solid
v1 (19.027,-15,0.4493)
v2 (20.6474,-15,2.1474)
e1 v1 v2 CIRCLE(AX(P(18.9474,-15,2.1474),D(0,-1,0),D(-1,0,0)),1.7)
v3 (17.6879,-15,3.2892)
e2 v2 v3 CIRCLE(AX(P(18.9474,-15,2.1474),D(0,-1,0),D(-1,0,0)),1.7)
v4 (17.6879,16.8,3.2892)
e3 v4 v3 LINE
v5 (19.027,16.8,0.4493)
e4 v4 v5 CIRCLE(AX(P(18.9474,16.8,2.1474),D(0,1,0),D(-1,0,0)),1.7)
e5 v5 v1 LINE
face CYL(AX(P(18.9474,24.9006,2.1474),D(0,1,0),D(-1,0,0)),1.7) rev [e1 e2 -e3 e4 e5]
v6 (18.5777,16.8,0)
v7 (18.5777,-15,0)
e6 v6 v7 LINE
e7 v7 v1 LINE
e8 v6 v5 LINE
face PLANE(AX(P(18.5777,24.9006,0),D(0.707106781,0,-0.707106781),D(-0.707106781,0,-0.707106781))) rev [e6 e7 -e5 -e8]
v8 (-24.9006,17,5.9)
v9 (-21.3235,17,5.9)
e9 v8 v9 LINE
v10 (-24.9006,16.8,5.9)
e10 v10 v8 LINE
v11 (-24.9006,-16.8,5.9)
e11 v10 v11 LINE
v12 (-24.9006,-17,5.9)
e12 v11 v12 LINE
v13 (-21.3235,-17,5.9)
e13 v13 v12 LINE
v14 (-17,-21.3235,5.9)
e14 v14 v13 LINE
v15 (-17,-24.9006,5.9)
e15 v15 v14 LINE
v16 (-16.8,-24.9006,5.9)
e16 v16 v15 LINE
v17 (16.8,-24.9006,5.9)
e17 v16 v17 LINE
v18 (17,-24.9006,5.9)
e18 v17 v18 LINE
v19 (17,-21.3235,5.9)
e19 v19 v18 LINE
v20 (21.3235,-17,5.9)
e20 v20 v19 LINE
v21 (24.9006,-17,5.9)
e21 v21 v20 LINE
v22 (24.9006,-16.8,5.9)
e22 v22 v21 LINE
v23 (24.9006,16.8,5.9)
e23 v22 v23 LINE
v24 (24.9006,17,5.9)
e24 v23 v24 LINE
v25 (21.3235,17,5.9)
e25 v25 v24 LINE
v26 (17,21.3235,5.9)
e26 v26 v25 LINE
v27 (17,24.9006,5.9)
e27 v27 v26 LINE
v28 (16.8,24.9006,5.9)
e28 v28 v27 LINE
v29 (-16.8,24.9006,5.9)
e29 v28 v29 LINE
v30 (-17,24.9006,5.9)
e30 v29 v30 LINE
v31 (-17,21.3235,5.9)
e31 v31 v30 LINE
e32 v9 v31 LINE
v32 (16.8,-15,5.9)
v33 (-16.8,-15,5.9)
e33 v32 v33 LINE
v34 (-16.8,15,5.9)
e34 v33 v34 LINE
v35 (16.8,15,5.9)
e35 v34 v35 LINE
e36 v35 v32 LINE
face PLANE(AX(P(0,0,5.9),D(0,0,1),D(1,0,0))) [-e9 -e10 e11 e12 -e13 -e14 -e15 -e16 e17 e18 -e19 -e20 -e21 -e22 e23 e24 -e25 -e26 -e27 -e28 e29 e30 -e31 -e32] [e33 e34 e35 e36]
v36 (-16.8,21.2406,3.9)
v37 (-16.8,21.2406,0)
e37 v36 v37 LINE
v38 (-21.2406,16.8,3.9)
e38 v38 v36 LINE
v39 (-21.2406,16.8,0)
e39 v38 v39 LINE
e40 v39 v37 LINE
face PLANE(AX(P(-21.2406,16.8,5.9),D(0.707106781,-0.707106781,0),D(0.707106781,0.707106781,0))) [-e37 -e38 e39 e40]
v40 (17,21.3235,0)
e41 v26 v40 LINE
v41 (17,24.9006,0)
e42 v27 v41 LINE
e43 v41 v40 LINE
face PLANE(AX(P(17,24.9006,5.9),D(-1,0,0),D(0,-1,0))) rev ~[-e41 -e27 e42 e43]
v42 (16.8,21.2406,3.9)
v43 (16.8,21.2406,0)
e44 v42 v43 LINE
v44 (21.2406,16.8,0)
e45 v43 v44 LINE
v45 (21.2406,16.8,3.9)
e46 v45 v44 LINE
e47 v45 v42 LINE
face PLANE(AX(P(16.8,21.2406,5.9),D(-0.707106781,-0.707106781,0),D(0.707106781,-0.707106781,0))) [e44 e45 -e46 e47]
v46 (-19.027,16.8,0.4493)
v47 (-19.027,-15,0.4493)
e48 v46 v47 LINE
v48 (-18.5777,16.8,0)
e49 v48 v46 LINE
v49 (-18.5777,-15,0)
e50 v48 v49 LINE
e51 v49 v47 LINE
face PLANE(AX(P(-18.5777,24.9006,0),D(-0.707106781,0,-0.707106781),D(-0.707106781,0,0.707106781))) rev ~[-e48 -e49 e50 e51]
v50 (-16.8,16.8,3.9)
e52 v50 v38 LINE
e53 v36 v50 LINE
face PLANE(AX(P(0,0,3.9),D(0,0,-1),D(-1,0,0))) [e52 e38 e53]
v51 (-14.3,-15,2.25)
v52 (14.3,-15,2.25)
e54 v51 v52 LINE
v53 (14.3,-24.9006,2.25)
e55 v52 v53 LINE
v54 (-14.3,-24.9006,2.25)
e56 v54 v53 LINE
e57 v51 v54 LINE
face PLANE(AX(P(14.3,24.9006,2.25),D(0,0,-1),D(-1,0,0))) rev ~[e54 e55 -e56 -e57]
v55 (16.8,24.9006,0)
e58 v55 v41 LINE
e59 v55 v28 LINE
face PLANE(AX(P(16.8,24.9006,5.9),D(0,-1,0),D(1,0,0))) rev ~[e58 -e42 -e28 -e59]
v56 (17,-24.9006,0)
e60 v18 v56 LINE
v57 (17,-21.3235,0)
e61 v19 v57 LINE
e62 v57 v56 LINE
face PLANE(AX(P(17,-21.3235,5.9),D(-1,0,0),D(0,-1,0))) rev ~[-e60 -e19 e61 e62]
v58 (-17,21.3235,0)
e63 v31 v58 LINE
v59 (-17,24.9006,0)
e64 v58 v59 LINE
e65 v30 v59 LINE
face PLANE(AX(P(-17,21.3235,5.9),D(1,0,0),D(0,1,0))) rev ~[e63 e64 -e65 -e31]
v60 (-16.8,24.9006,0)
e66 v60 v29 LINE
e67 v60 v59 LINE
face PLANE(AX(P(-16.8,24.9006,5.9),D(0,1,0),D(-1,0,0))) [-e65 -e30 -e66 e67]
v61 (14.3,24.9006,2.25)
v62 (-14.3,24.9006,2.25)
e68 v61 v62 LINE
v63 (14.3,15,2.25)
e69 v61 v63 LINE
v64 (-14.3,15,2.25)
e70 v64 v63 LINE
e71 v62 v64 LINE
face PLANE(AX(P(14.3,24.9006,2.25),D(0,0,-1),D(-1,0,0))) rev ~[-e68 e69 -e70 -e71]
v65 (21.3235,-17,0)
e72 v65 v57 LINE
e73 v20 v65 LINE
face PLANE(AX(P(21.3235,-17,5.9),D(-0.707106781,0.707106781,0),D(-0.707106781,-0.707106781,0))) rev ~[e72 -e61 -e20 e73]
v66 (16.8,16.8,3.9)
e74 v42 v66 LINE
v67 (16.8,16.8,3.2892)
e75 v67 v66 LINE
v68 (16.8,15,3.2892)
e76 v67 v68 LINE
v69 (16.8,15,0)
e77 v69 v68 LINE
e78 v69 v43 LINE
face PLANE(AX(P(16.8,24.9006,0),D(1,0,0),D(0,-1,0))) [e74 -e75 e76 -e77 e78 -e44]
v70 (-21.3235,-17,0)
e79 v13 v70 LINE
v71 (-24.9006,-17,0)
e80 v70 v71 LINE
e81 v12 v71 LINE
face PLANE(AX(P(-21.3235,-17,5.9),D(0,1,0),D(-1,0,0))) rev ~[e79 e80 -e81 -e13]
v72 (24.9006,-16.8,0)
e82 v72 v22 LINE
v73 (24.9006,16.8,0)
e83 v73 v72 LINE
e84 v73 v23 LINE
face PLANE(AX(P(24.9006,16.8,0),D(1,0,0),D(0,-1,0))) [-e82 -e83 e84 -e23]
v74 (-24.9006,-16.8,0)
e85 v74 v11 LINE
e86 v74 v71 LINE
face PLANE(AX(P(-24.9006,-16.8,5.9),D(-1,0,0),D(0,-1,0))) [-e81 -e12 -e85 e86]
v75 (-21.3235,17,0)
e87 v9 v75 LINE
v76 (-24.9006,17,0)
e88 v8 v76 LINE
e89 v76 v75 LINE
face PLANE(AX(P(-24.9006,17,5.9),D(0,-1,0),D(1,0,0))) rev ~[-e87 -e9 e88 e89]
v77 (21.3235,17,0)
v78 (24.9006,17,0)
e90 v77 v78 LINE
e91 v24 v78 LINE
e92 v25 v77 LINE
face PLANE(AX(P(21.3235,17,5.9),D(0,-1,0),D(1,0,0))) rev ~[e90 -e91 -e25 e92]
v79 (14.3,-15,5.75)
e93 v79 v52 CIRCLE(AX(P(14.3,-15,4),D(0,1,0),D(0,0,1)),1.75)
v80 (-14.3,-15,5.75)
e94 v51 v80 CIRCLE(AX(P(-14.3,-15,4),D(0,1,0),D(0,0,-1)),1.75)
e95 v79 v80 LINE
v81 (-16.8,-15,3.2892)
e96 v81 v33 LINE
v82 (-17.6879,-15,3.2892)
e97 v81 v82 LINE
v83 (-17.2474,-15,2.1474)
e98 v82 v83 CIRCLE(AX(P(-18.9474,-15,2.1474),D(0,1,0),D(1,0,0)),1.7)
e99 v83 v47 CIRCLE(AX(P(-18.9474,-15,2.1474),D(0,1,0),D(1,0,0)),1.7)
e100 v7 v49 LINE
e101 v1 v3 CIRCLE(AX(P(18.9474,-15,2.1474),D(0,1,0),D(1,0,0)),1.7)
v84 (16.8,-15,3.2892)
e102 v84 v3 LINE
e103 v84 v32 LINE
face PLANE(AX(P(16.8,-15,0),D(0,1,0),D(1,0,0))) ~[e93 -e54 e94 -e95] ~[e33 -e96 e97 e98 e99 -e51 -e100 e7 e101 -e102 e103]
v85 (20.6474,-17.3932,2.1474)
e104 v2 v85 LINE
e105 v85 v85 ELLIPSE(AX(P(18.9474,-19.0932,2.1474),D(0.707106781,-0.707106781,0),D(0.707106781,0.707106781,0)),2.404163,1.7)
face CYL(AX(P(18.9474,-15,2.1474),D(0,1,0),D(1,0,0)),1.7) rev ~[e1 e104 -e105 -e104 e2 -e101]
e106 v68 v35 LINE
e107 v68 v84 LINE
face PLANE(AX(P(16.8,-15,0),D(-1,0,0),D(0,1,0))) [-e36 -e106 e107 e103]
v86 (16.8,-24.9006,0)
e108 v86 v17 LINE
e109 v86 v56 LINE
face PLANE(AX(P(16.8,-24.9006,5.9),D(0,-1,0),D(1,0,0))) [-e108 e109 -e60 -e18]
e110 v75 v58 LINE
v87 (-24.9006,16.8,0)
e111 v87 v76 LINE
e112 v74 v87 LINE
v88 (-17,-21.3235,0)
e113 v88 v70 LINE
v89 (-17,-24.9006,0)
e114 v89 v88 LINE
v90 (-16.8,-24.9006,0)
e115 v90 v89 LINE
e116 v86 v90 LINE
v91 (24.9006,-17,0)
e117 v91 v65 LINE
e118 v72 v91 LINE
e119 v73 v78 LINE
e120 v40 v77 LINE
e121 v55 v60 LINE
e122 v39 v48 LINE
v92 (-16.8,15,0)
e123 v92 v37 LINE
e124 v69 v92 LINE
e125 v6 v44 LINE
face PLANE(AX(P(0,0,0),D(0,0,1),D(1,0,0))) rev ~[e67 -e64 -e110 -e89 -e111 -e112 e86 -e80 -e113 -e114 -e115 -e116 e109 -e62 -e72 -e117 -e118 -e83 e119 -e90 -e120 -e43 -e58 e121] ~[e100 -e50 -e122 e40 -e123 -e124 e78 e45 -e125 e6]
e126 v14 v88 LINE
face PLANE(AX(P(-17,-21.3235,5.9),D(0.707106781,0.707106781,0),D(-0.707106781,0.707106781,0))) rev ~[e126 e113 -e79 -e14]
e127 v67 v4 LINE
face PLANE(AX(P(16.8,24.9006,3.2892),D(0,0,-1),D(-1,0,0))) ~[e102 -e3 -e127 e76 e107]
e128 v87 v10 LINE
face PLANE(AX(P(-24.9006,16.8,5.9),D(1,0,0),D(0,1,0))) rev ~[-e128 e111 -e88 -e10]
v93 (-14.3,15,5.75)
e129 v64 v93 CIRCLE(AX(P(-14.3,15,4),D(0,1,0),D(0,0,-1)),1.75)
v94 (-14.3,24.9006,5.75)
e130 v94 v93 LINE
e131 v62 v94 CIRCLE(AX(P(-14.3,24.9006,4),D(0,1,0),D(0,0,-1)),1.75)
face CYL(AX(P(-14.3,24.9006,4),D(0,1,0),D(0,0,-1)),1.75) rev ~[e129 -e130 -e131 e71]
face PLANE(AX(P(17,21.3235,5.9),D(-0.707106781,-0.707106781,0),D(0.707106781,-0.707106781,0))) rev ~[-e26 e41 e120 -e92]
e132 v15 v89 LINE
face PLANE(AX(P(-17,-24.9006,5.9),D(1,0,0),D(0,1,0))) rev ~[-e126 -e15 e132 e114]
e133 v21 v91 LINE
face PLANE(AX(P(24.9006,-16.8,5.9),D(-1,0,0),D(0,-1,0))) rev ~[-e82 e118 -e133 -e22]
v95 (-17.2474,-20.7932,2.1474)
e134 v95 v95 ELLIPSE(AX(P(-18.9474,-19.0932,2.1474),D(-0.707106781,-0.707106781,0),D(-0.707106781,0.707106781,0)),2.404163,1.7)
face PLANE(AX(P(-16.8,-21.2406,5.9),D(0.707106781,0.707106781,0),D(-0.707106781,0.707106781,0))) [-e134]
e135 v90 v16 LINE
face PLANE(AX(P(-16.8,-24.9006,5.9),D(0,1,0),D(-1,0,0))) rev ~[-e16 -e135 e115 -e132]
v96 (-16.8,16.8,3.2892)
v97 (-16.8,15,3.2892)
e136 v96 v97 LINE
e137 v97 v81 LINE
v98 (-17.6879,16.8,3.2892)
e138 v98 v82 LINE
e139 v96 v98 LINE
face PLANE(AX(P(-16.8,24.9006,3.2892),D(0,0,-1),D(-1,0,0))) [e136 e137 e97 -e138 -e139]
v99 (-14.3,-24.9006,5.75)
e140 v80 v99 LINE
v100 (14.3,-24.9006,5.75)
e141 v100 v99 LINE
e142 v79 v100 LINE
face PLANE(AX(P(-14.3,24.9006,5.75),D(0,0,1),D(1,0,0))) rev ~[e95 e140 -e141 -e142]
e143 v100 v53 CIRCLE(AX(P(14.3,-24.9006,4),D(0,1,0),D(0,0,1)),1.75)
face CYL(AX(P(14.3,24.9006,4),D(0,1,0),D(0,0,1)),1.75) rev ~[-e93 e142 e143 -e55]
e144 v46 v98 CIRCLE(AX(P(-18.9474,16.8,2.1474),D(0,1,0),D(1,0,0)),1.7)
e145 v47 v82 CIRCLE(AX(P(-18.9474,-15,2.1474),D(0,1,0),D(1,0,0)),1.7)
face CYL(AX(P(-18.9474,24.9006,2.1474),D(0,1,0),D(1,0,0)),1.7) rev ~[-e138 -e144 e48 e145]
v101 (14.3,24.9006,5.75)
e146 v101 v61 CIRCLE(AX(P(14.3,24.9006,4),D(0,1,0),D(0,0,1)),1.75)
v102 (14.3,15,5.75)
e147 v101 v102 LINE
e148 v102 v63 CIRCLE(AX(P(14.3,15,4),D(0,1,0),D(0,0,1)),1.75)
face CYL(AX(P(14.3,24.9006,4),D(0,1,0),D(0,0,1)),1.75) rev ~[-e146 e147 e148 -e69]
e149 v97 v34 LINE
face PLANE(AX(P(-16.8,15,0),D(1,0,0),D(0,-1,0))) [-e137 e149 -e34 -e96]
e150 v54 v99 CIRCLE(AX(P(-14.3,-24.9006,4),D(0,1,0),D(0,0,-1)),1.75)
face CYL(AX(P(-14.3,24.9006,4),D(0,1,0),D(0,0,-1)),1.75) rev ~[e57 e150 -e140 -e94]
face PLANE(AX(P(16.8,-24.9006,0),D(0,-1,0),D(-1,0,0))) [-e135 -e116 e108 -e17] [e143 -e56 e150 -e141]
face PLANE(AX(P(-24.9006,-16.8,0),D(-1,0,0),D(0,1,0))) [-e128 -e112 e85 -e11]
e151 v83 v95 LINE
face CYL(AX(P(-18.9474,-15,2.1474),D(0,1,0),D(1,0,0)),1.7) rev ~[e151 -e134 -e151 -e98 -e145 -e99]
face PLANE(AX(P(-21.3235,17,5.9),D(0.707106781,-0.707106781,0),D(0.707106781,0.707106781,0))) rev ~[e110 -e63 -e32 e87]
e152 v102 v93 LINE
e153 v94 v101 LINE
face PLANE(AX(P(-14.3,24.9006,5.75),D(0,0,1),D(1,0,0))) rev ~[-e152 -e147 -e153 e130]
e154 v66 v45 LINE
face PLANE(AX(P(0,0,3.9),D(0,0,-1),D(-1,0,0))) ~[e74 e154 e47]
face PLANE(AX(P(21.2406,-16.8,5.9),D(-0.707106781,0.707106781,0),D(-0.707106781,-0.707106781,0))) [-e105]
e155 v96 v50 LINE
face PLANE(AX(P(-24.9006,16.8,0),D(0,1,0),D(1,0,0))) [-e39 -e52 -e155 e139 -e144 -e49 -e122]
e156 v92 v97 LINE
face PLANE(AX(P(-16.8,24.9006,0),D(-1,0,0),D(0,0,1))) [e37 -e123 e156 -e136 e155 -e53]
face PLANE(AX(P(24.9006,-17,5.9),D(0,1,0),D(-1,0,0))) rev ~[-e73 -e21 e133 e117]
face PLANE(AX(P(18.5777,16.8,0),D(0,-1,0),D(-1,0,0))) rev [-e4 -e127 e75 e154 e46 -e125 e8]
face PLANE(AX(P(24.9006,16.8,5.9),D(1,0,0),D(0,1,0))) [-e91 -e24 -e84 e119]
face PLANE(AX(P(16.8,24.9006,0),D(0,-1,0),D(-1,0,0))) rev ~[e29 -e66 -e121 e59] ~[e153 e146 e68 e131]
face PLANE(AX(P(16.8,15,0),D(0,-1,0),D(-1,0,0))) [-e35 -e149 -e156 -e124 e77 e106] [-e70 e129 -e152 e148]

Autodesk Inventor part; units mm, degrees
ref_plane "YZ Plane" through (0, 0, 0) normal (1, 0, 0) x (0, 1, 0)
ref_plane "XZ Plane" through (0, 0, 0) normal (0, 1, 0) x (-1, 0, 0)
ref_plane "XY Plane" through (0, 0, 0) normal (0, 0, 1) x (1, 0, 0)
sketch "Sketch1" plane through (0, 0, 0) normal (0, 0, 1) x (1, 0, 0)
  line L0 (-51.8104, 0) -> (51.8104, 0) construction
  line L1 (0, -35.1144) -> (0, 36.3819) construction
  line L2 (0, 0) -> (26.1682, 26.1682) construction
  line L3 (0, 0) -> (37.0074, 0) construction
  line L4 (16.8, 24.9006) -> (16.8, 21.2406)
  line L5 (16.8, 21.2406) -> (19.0203, 19.0203)
  line L6 (16.8, 24.9006) -> (0, 24.9006)
  line L7 (24.9006, 16.8) -> (21.2406, 16.8)
  line L8 (21.2406, 16.8) -> (19.0203, 19.0203)
  line L9 (24.9006, 16.8) -> (24.9006, 0)
  line L10 (0, 0) -> (-37.0074, 0) construction
  line L11 (-16.8, 24.9006) -> (-16.8, 21.2406)
  line L12 (-16.8, 21.2406) -> (-19.0203, 19.0203)
  line L13 (-16.8, 24.9006) -> (0, 24.9006)
  line L14 (-24.9006, 16.8) -> (-24.9006, 0)
  line L15 (-24.9006, 16.8) -> (-21.2406, 16.8)
  line L16 (-21.2406, 16.8) -> (-19.0203, 19.0203)
  line L17 (16.8, -24.9006) -> (16.8, -21.2406)
  line L18 (16.8, -21.2406) -> (19.0203, -19.0203)
  line L19 (16.8, -24.9006) -> (0, -24.9006)
  line L20 (24.9006, -16.8) -> (24.9006, 0)
  line L21 (24.9006, -16.8) -> (21.2406, -16.8)
  line L22 (21.2406, -16.8) -> (19.0203, -19.0203)
  line L23 (-16.8, -24.9006) -> (-16.8, -21.2406)
  line L24 (-16.8, -21.2406) -> (-19.0203, -19.0203)
  line L25 (-16.8, -24.9006) -> (0, -24.9006)
  line L26 (-24.9006, -16.8) -> (-24.9006, 0)
  line L27 (-24.9006, -16.8) -> (-21.2406, -16.8)
  line L28 (-21.2406, -16.8) -> (-19.0203, -19.0203)
  line L29 (-16.8, -16.8) -> (16.8, 16.8) construction
  line L30 (17.4242, -17.4242) -> (-16.0391, 16.0391) construction
  line L31 (-16.8, -15) -> (16.8, -15)
  line L32 (16.8, -15) -> (16.8, 15)
  line L33 (16.8, 15) -> (-16.8, 15)
  line L34 (-16.8, 15) -> (-16.8, -15)
  line L35 (-16.8, -15) -> (16.8, 15) construction
  line L36 (16.8, -15) -> (-16.8, 15) construction
  dimension "d0" = 45
  dimension "d1" = 3.14
  dimension "d2" = 3.66
  dimension "d4" = 16.8
  dimension "d16" = 33.6
  dimension "d17" = 30
extrude "Extrusion1" add sketch "Sketch1" along normal blind 8
sketch "Sketch2" plane through (-16.8, 24.9006, 0) normal (0, 1, 0) x (1, 0, 0)
  line L0 (-8.1006, 0) -> (-4.4406, 0) construction
  line L1 (-8.1006, 0) -> (-8.1006, -8) construction
  line L2 (-4.4406, -8) -> (-8.1006, -8) construction
  line L3 (-4.4406, 0) -> (-4.4406, -8) construction
  line L4 (-4.4406, 0) -> (0, 0) construction
  line L5 (-4.4406, 0) -> (-4.4406, -8) construction
  line L6 (0, -8) -> (-4.4406, -8) construction
  line L7 (0, 0) -> (0, -8) construction
  line L8 (0, 0) -> (33.6, 0) construction
  line L9 (0, 0) -> (0, -8) construction
  line L10 (33.6, -8) -> (0, -8) construction
  line L11 (33.6, 0) -> (33.6, -8) construction
  line L12 (33.6, 0) -> (38.0406, 0) construction
  line L13 (33.6, 0) -> (33.6, -8) construction
  line L14 (38.0406, -8) -> (33.6, -8) construction
  line L15 (38.0406, 0) -> (38.0406, -8) construction
  line L16 (38.0406, 0) -> (41.7006, 0) construction
  line L17 (38.0406, 0) -> (38.0406, -8) construction
  line L18 (41.7006, -8) -> (38.0406, -8) construction
  line L19 (41.7006, 0) -> (41.7006, -8) construction
  line L20 (-0.9933, -0.6346) -> (2.8461, 5.7642) construction
  ellipse E0 centre (4.1754, 7.1215) end of major axis (2.3333, 6.6563) minor radius 1.8997 (5.4585, 5.7204) -> (2.8461, 5.7642) ccw construction
  line L21 (5.4585, 5.7204) -> (9.3415, -1.2728) construction
  line L22 (9.3415, -1.2728) -> (8.4179, -1.2574) construction
  line L23 (8.4179, -1.2574) -> (4.8304, 5.2036) construction
  ellipse E1 centre (5.2675, 5.4463) end of major axis (4.7828, 5.3239) minor radius 0.4999 (4.9945, 5.8651) -> (4.8304, 5.2036) ccw construction
  ellipse E2 centre (4.1754, 7.1215) end of major axis (2.7211, 6.7542) minor radius 1.4998 (4.9945, 5.8651) -> (3.3146, 5.8932) ccw construction
  ellipse E3 centre (3.0277, 5.4838) end of major axis (3.5125, 5.6062) minor radius 0.4999 (3.4564, 5.2266) -> (3.3146, 5.8932) ccw construction
  line L24 (3.4564, 5.2266) -> (-0.3461, -1.1107) construction
  ellipse E4 centre (-1.5262, -2.0366) end of major axis (-0.0719, -1.6693) minor radius 1.4998 (-0.9933, -0.6346) -> (-0.3461, -1.1107) ccw construction
  circle A0 centre (-2.1474, -2.1474) radius 1.7
  line L25 (-4.4406, 0) -> (0, 0) construction
  line L26 (0, 0) -> (-3.5302, -3.5302) construction
  line L27 (0, 0) -> (4.9925, 0) construction
  line L28 (0, 0) -> (2, 0)
  line L29 (0, 0) -> (-1.7777, 0)
  line L30 (-1.7777, 0) -> (-2.227, -0.4493)
  line L31 (0, 0) -> (0, -3.2892)
  line L32 (0, -3.2892) -> (-0.8879, -3.2892)
  point P0 (16.8, 0)
  dimension "d8" = 3.4
  dimension "d9" = 135
extrude "Extrusion2" cut sketch "Sketch2" against normal up to surface (39.9006 mm away)
sketch "Sketch3" plane through (0, 0, 0) normal (0, 0, -1) x (-1, 0, 0)
  line L0 (16.8, 15) -> (16.8, 24.9006) construction
  line L1 (16.8, 24.9006) -> (-16.8, 24.9006) construction
  line L2 (-16.8, 24.9006) -> (-16.8, 21.2406) construction
  line L3 (-16.8, 21.2406) -> (-21.2406, 16.8) construction
  line L4 (-21.2406, 16.8) -> (-24.9006, 16.8) construction
  line L5 (-24.9006, 16.8) -> (-24.9006, -16.8) construction
  line L6 (-24.9006, -16.8) -> (-21.2406, -16.8) construction
  line L7 (-21.2406, -16.8) -> (-16.8, -21.2406) construction
  line L8 (-16.8, -21.2406) -> (-16.8, -24.9006) construction
  line L9 (-16.8, -24.9006) -> (16.8, -24.9006) construction
  line L10 (16.8, -24.9006) -> (16.8, -21.2406) construction
  line L11 (16.8, -21.2406) -> (21.2406, -16.8) construction
  line L12 (21.2406, -16.8) -> (24.9006, -16.8) construction
  line L13 (24.9006, -16.8) -> (24.9006, 16.8) construction
  line L14 (24.9006, 16.8) -> (21.2406, 16.8) construction
  line L15 (21.2406, 16.8) -> (18.5777, 19.4629) construction
  line L16 (21.2406, 16.8) -> (24.9006, 16.8) construction
  line L17 (24.9006, 16.8) -> (21.2406, 16.8) projected
  line L18 (18.5777, 19.4629) -> (18.5777, -15) projected
  line L19 (16.8, 21.2406) -> (21.2406, 16.8) projected
  line L20 (21.2406, 16.8) -> (16.8, 21.2406)
  line L21 (16.8, 21.2406) -> (16.8, 16.8)
  line L22 (16.8, 16.8) -> (21.2406, 16.8)
  line L23 (18.5777, 19.4629) -> (18.5777, -15) projected
  line L24 (18.5777, -15) -> (-16.8, -15) projected
  line L25 (-16.8, -15) -> (-16.8, 15) projected
  line L26 (-16.8, 15) -> (16.8, 15) projected
  point P0 (0, 0)
  point P1 (18.5777, -16.8)
extrude "Extrusion3" cut sketch "Sketch3" against normal blind 3.9
mirror "Mirror1" about plane through (0, 0, 0) normal (1, 0, 0) of "Extrusion3", "Extrusion2"
sketch "Sketch4" plane through (-16.8, -15, 8) normal (0, 1, 0) x (1, 0, 0)
  line L0 (-1.7777, 8) -> (35.3777, 8) construction
  line L1 (-1.7777, 8) -> (-2.227, 7.5507) construction
  arc A0 (-2.227, 7.5507) -> (-0.8879, 4.7108) centre (-2.1474, 5.8526) ccw construction
  line L2 (-0.8879, 4.7108) -> (0, 4.7108) construction
  line L3 (0, 4.7108) -> (0, 0) construction
  line L4 (33.6, 0) -> (0, 0) construction
  line L5 (33.6, 4.7108) -> (33.6, 0) construction
  line L6 (34.4879, 4.7108) -> (33.6, 4.7108) construction
  arc A1 (34.4879, 4.7108) -> (35.827, 7.5507) centre (35.7474, 5.8526) ccw construction
  line L7 (35.3777, 8) -> (35.827, 7.5507) construction
  circle A2 centre (35.7474, 5.8526) radius 1.7
  circle A3 centre (-2.1474, 5.8526) radius 1.7
  point P0 (16.8, 8)
extrude "Extrusion4" cut sketch "Sketch4" against normal blind 10
sketch "Sketch5" plane through (-16.8, 24.9006, 0) normal (0, 1, 0) x (1, 0, 0)
  line L0 (0, 0) -> (33.6, 0) construction
  line L1 (0, 0) -> (0, -8) construction
  line L2 (33.6, -8) -> (0, -8) construction
  line L3 (33.6, 0) -> (33.6, -8) construction
  line L4 (16.8, 0) -> (16.8, -8) construction
  line L5 (33.6, 0) -> (33.6, -8) construction
  line L6 (0, 0) -> (0, -8) construction
  line L7 (33.6, -4) -> (0, -4) construction
  line L8 (2.5, -4) -> (31.1, -4) construction
  line L9 (2.5, -5.75) -> (31.1, -5.75)
  line L10 (31.1, -2.25) -> (2.5, -2.25)
  arc A0 (2.5, -2.25) -> (2.5, -5.75) centre (2.5, -4) ccw
  arc A1 (31.1, -5.75) -> (31.1, -2.25) centre (31.1, -4) ccw
  point P0 (16.8, -4)
  dimension "d20" = 3.5
  dimension "d21" = 2.5
extrude "Extrusion5" cut sketch "Sketch5" against normal through all
sketch "Sketch6" plane through (0, 0, 8) normal (0, 0, 1) x (1, 0, 0)
  line L0 (-16.8, -15) -> (-16.8, 15) projected
  line L1 (-16.8, 15) -> (16.8, 15) projected
  line L2 (16.8, 15) -> (16.8, -15) projected
  line L3 (16.8, -15) -> (-16.8, -15) projected
  line L4 (16.8, 21.2406) -> (16.8, 24.9006) projected
  line L5 (16.8, 24.9006) -> (-16.8, 24.9006) projected
  line L6 (-16.8, 24.9006) -> (-16.8, 21.2406) projected
  line L7 (-16.8, 21.2406) -> (-21.2406, 16.8) projected
  line L8 (-21.2406, 16.8) -> (-24.9006, 16.8) projected
  line L9 (-24.9006, 16.8) -> (-24.9006, -16.8) projected
  line L10 (-24.9006, -16.8) -> (-21.2406, -16.8) projected
  line L11 (-21.2406, -16.8) -> (-16.8, -21.2406) projected
  line L12 (-16.8, -21.2406) -> (-16.8, -24.9006) projected
  line L13 (-16.8, -24.9006) -> (16.8, -24.9006) projected
  line L14 (16.8, -24.9006) -> (16.8, -21.2406) projected
  line L15 (16.8, -21.2406) -> (21.2406, -16.8) projected
  line L16 (21.2406, -16.8) -> (24.9006, -16.8) projected
  line L17 (24.9006, -16.8) -> (24.9006, 16.8) projected
  line L18 (24.9006, 16.8) -> (21.2406, 16.8) projected
  line L19 (21.2406, 16.8) -> (16.8, 21.2406) projected
  point P0 (0, 0)
extrude "Extrusion6" cut sketch "Sketch6" against normal blind 2.1
sketch "Skizze7" plane through (0, 0, 5.9) normal (0, 0, 1) x (1, 0, 0)
  line L0 (-16.8, -15) -> (16.8, -15) construction
  line L1 (-16.8, 15) -> (-16.8, -15) construction
  line L2 (16.8, 15) -> (-16.8, 15) construction
  line L3 (16.8, -15) -> (16.8, 15) construction
  line L4 (16.8, 24.9006) -> (16.8, 21.2406) projected
  line L5 (-16.8, 24.9006) -> (16.8, 24.9006) construction
  line L6 (-16.8, 21.2406) -> (-16.8, 24.9006) projected
  line L7 (-21.2406, 16.8) -> (-16.8, 21.2406) projected
  line L8 (-24.9006, 16.8) -> (-21.2406, 16.8) projected
  line L9 (-24.9006, -16.8) -> (-24.9006, 16.8) construction
  line L10 (-21.2406, -16.8) -> (-24.9006, -16.8) projected
  line L11 (-16.8, -21.2406) -> (-21.2406, -16.8) projected
  line L12 (-16.8, -24.9006) -> (-16.8, -21.2406) projected
  line L13 (16.8, -24.9006) -> (-16.8, -24.9006) construction
  line L14 (16.8, -21.2406) -> (16.8, -24.9006) projected
  line L15 (21.2406, -16.8) -> (16.8, -21.2406) projected
  line L16 (24.9006, -16.8) -> (21.2406, -16.8) projected
  line L17 (24.9006, 16.8) -> (24.9006, -16.8) construction
  line L18 (21.2406, 16.8) -> (24.9006, 16.8) projected
  line L19 (16.8, 21.2406) -> (21.2406, 16.8) projected
  line L20 (17, 25.1006) -> (17, 21.3235)
  line L21 (17, 21.3235) -> (21.3235, 17)
  line L22 (21.3235, 17) -> (25.1006, 17)
  line L23 (25.1006, 17) -> (25.1006, -17) construction
  line L24 (25.1006, -17) -> (21.3235, -17)
  line L25 (21.3235, -17) -> (17, -21.3235)
  line L26 (17, -21.3235) -> (17, -25.1006)
  line L27 (17, -25.1006) -> (-17, -25.1006) construction
  line L28 (-17, -25.1006) -> (-17, -21.3235)
  line L29 (-17, -21.3235) -> (-21.3235, -17)
  line L30 (-21.3235, -17) -> (-25.1006, -17)
  line L31 (-25.1006, -17) -> (-25.1006, 17) construction
  line L32 (-25.1006, 17) -> (-21.3235, 17)
  line L33 (-21.3235, 17) -> (-17, 21.3235)
  line L34 (-17, 21.3235) -> (-17, 25.1006)
  line L35 (-17, 25.1006) -> (17, 25.1006) construction
  line L36 (-24.9006, 16.8) -> (-24.9006, 17)
  line L37 (-16.8, 24.9006) -> (-17, 24.9006)
  line L38 (16.8, 24.9006) -> (17, 24.9006)
  line L39 (24.9006, 16.8) -> (24.9006, 17)
  line L40 (24.9006, -16.8) -> (24.9006, -17)
  line L41 (16.8, -24.9006) -> (17, -24.9006)
  line L42 (-16.8, -24.9006) -> (-17, -24.9006)
  line L43 (-24.9006, -16.8) -> (-24.9006, -17)
  point P0 (0, 0)
  dimension "d26" = 0.2
extrude "IM_offset" add sketch "Skizze7" against normal up to surface (5.9 mm away)
properties part number "20_Rect_Aperture_Insert_half_v3"
